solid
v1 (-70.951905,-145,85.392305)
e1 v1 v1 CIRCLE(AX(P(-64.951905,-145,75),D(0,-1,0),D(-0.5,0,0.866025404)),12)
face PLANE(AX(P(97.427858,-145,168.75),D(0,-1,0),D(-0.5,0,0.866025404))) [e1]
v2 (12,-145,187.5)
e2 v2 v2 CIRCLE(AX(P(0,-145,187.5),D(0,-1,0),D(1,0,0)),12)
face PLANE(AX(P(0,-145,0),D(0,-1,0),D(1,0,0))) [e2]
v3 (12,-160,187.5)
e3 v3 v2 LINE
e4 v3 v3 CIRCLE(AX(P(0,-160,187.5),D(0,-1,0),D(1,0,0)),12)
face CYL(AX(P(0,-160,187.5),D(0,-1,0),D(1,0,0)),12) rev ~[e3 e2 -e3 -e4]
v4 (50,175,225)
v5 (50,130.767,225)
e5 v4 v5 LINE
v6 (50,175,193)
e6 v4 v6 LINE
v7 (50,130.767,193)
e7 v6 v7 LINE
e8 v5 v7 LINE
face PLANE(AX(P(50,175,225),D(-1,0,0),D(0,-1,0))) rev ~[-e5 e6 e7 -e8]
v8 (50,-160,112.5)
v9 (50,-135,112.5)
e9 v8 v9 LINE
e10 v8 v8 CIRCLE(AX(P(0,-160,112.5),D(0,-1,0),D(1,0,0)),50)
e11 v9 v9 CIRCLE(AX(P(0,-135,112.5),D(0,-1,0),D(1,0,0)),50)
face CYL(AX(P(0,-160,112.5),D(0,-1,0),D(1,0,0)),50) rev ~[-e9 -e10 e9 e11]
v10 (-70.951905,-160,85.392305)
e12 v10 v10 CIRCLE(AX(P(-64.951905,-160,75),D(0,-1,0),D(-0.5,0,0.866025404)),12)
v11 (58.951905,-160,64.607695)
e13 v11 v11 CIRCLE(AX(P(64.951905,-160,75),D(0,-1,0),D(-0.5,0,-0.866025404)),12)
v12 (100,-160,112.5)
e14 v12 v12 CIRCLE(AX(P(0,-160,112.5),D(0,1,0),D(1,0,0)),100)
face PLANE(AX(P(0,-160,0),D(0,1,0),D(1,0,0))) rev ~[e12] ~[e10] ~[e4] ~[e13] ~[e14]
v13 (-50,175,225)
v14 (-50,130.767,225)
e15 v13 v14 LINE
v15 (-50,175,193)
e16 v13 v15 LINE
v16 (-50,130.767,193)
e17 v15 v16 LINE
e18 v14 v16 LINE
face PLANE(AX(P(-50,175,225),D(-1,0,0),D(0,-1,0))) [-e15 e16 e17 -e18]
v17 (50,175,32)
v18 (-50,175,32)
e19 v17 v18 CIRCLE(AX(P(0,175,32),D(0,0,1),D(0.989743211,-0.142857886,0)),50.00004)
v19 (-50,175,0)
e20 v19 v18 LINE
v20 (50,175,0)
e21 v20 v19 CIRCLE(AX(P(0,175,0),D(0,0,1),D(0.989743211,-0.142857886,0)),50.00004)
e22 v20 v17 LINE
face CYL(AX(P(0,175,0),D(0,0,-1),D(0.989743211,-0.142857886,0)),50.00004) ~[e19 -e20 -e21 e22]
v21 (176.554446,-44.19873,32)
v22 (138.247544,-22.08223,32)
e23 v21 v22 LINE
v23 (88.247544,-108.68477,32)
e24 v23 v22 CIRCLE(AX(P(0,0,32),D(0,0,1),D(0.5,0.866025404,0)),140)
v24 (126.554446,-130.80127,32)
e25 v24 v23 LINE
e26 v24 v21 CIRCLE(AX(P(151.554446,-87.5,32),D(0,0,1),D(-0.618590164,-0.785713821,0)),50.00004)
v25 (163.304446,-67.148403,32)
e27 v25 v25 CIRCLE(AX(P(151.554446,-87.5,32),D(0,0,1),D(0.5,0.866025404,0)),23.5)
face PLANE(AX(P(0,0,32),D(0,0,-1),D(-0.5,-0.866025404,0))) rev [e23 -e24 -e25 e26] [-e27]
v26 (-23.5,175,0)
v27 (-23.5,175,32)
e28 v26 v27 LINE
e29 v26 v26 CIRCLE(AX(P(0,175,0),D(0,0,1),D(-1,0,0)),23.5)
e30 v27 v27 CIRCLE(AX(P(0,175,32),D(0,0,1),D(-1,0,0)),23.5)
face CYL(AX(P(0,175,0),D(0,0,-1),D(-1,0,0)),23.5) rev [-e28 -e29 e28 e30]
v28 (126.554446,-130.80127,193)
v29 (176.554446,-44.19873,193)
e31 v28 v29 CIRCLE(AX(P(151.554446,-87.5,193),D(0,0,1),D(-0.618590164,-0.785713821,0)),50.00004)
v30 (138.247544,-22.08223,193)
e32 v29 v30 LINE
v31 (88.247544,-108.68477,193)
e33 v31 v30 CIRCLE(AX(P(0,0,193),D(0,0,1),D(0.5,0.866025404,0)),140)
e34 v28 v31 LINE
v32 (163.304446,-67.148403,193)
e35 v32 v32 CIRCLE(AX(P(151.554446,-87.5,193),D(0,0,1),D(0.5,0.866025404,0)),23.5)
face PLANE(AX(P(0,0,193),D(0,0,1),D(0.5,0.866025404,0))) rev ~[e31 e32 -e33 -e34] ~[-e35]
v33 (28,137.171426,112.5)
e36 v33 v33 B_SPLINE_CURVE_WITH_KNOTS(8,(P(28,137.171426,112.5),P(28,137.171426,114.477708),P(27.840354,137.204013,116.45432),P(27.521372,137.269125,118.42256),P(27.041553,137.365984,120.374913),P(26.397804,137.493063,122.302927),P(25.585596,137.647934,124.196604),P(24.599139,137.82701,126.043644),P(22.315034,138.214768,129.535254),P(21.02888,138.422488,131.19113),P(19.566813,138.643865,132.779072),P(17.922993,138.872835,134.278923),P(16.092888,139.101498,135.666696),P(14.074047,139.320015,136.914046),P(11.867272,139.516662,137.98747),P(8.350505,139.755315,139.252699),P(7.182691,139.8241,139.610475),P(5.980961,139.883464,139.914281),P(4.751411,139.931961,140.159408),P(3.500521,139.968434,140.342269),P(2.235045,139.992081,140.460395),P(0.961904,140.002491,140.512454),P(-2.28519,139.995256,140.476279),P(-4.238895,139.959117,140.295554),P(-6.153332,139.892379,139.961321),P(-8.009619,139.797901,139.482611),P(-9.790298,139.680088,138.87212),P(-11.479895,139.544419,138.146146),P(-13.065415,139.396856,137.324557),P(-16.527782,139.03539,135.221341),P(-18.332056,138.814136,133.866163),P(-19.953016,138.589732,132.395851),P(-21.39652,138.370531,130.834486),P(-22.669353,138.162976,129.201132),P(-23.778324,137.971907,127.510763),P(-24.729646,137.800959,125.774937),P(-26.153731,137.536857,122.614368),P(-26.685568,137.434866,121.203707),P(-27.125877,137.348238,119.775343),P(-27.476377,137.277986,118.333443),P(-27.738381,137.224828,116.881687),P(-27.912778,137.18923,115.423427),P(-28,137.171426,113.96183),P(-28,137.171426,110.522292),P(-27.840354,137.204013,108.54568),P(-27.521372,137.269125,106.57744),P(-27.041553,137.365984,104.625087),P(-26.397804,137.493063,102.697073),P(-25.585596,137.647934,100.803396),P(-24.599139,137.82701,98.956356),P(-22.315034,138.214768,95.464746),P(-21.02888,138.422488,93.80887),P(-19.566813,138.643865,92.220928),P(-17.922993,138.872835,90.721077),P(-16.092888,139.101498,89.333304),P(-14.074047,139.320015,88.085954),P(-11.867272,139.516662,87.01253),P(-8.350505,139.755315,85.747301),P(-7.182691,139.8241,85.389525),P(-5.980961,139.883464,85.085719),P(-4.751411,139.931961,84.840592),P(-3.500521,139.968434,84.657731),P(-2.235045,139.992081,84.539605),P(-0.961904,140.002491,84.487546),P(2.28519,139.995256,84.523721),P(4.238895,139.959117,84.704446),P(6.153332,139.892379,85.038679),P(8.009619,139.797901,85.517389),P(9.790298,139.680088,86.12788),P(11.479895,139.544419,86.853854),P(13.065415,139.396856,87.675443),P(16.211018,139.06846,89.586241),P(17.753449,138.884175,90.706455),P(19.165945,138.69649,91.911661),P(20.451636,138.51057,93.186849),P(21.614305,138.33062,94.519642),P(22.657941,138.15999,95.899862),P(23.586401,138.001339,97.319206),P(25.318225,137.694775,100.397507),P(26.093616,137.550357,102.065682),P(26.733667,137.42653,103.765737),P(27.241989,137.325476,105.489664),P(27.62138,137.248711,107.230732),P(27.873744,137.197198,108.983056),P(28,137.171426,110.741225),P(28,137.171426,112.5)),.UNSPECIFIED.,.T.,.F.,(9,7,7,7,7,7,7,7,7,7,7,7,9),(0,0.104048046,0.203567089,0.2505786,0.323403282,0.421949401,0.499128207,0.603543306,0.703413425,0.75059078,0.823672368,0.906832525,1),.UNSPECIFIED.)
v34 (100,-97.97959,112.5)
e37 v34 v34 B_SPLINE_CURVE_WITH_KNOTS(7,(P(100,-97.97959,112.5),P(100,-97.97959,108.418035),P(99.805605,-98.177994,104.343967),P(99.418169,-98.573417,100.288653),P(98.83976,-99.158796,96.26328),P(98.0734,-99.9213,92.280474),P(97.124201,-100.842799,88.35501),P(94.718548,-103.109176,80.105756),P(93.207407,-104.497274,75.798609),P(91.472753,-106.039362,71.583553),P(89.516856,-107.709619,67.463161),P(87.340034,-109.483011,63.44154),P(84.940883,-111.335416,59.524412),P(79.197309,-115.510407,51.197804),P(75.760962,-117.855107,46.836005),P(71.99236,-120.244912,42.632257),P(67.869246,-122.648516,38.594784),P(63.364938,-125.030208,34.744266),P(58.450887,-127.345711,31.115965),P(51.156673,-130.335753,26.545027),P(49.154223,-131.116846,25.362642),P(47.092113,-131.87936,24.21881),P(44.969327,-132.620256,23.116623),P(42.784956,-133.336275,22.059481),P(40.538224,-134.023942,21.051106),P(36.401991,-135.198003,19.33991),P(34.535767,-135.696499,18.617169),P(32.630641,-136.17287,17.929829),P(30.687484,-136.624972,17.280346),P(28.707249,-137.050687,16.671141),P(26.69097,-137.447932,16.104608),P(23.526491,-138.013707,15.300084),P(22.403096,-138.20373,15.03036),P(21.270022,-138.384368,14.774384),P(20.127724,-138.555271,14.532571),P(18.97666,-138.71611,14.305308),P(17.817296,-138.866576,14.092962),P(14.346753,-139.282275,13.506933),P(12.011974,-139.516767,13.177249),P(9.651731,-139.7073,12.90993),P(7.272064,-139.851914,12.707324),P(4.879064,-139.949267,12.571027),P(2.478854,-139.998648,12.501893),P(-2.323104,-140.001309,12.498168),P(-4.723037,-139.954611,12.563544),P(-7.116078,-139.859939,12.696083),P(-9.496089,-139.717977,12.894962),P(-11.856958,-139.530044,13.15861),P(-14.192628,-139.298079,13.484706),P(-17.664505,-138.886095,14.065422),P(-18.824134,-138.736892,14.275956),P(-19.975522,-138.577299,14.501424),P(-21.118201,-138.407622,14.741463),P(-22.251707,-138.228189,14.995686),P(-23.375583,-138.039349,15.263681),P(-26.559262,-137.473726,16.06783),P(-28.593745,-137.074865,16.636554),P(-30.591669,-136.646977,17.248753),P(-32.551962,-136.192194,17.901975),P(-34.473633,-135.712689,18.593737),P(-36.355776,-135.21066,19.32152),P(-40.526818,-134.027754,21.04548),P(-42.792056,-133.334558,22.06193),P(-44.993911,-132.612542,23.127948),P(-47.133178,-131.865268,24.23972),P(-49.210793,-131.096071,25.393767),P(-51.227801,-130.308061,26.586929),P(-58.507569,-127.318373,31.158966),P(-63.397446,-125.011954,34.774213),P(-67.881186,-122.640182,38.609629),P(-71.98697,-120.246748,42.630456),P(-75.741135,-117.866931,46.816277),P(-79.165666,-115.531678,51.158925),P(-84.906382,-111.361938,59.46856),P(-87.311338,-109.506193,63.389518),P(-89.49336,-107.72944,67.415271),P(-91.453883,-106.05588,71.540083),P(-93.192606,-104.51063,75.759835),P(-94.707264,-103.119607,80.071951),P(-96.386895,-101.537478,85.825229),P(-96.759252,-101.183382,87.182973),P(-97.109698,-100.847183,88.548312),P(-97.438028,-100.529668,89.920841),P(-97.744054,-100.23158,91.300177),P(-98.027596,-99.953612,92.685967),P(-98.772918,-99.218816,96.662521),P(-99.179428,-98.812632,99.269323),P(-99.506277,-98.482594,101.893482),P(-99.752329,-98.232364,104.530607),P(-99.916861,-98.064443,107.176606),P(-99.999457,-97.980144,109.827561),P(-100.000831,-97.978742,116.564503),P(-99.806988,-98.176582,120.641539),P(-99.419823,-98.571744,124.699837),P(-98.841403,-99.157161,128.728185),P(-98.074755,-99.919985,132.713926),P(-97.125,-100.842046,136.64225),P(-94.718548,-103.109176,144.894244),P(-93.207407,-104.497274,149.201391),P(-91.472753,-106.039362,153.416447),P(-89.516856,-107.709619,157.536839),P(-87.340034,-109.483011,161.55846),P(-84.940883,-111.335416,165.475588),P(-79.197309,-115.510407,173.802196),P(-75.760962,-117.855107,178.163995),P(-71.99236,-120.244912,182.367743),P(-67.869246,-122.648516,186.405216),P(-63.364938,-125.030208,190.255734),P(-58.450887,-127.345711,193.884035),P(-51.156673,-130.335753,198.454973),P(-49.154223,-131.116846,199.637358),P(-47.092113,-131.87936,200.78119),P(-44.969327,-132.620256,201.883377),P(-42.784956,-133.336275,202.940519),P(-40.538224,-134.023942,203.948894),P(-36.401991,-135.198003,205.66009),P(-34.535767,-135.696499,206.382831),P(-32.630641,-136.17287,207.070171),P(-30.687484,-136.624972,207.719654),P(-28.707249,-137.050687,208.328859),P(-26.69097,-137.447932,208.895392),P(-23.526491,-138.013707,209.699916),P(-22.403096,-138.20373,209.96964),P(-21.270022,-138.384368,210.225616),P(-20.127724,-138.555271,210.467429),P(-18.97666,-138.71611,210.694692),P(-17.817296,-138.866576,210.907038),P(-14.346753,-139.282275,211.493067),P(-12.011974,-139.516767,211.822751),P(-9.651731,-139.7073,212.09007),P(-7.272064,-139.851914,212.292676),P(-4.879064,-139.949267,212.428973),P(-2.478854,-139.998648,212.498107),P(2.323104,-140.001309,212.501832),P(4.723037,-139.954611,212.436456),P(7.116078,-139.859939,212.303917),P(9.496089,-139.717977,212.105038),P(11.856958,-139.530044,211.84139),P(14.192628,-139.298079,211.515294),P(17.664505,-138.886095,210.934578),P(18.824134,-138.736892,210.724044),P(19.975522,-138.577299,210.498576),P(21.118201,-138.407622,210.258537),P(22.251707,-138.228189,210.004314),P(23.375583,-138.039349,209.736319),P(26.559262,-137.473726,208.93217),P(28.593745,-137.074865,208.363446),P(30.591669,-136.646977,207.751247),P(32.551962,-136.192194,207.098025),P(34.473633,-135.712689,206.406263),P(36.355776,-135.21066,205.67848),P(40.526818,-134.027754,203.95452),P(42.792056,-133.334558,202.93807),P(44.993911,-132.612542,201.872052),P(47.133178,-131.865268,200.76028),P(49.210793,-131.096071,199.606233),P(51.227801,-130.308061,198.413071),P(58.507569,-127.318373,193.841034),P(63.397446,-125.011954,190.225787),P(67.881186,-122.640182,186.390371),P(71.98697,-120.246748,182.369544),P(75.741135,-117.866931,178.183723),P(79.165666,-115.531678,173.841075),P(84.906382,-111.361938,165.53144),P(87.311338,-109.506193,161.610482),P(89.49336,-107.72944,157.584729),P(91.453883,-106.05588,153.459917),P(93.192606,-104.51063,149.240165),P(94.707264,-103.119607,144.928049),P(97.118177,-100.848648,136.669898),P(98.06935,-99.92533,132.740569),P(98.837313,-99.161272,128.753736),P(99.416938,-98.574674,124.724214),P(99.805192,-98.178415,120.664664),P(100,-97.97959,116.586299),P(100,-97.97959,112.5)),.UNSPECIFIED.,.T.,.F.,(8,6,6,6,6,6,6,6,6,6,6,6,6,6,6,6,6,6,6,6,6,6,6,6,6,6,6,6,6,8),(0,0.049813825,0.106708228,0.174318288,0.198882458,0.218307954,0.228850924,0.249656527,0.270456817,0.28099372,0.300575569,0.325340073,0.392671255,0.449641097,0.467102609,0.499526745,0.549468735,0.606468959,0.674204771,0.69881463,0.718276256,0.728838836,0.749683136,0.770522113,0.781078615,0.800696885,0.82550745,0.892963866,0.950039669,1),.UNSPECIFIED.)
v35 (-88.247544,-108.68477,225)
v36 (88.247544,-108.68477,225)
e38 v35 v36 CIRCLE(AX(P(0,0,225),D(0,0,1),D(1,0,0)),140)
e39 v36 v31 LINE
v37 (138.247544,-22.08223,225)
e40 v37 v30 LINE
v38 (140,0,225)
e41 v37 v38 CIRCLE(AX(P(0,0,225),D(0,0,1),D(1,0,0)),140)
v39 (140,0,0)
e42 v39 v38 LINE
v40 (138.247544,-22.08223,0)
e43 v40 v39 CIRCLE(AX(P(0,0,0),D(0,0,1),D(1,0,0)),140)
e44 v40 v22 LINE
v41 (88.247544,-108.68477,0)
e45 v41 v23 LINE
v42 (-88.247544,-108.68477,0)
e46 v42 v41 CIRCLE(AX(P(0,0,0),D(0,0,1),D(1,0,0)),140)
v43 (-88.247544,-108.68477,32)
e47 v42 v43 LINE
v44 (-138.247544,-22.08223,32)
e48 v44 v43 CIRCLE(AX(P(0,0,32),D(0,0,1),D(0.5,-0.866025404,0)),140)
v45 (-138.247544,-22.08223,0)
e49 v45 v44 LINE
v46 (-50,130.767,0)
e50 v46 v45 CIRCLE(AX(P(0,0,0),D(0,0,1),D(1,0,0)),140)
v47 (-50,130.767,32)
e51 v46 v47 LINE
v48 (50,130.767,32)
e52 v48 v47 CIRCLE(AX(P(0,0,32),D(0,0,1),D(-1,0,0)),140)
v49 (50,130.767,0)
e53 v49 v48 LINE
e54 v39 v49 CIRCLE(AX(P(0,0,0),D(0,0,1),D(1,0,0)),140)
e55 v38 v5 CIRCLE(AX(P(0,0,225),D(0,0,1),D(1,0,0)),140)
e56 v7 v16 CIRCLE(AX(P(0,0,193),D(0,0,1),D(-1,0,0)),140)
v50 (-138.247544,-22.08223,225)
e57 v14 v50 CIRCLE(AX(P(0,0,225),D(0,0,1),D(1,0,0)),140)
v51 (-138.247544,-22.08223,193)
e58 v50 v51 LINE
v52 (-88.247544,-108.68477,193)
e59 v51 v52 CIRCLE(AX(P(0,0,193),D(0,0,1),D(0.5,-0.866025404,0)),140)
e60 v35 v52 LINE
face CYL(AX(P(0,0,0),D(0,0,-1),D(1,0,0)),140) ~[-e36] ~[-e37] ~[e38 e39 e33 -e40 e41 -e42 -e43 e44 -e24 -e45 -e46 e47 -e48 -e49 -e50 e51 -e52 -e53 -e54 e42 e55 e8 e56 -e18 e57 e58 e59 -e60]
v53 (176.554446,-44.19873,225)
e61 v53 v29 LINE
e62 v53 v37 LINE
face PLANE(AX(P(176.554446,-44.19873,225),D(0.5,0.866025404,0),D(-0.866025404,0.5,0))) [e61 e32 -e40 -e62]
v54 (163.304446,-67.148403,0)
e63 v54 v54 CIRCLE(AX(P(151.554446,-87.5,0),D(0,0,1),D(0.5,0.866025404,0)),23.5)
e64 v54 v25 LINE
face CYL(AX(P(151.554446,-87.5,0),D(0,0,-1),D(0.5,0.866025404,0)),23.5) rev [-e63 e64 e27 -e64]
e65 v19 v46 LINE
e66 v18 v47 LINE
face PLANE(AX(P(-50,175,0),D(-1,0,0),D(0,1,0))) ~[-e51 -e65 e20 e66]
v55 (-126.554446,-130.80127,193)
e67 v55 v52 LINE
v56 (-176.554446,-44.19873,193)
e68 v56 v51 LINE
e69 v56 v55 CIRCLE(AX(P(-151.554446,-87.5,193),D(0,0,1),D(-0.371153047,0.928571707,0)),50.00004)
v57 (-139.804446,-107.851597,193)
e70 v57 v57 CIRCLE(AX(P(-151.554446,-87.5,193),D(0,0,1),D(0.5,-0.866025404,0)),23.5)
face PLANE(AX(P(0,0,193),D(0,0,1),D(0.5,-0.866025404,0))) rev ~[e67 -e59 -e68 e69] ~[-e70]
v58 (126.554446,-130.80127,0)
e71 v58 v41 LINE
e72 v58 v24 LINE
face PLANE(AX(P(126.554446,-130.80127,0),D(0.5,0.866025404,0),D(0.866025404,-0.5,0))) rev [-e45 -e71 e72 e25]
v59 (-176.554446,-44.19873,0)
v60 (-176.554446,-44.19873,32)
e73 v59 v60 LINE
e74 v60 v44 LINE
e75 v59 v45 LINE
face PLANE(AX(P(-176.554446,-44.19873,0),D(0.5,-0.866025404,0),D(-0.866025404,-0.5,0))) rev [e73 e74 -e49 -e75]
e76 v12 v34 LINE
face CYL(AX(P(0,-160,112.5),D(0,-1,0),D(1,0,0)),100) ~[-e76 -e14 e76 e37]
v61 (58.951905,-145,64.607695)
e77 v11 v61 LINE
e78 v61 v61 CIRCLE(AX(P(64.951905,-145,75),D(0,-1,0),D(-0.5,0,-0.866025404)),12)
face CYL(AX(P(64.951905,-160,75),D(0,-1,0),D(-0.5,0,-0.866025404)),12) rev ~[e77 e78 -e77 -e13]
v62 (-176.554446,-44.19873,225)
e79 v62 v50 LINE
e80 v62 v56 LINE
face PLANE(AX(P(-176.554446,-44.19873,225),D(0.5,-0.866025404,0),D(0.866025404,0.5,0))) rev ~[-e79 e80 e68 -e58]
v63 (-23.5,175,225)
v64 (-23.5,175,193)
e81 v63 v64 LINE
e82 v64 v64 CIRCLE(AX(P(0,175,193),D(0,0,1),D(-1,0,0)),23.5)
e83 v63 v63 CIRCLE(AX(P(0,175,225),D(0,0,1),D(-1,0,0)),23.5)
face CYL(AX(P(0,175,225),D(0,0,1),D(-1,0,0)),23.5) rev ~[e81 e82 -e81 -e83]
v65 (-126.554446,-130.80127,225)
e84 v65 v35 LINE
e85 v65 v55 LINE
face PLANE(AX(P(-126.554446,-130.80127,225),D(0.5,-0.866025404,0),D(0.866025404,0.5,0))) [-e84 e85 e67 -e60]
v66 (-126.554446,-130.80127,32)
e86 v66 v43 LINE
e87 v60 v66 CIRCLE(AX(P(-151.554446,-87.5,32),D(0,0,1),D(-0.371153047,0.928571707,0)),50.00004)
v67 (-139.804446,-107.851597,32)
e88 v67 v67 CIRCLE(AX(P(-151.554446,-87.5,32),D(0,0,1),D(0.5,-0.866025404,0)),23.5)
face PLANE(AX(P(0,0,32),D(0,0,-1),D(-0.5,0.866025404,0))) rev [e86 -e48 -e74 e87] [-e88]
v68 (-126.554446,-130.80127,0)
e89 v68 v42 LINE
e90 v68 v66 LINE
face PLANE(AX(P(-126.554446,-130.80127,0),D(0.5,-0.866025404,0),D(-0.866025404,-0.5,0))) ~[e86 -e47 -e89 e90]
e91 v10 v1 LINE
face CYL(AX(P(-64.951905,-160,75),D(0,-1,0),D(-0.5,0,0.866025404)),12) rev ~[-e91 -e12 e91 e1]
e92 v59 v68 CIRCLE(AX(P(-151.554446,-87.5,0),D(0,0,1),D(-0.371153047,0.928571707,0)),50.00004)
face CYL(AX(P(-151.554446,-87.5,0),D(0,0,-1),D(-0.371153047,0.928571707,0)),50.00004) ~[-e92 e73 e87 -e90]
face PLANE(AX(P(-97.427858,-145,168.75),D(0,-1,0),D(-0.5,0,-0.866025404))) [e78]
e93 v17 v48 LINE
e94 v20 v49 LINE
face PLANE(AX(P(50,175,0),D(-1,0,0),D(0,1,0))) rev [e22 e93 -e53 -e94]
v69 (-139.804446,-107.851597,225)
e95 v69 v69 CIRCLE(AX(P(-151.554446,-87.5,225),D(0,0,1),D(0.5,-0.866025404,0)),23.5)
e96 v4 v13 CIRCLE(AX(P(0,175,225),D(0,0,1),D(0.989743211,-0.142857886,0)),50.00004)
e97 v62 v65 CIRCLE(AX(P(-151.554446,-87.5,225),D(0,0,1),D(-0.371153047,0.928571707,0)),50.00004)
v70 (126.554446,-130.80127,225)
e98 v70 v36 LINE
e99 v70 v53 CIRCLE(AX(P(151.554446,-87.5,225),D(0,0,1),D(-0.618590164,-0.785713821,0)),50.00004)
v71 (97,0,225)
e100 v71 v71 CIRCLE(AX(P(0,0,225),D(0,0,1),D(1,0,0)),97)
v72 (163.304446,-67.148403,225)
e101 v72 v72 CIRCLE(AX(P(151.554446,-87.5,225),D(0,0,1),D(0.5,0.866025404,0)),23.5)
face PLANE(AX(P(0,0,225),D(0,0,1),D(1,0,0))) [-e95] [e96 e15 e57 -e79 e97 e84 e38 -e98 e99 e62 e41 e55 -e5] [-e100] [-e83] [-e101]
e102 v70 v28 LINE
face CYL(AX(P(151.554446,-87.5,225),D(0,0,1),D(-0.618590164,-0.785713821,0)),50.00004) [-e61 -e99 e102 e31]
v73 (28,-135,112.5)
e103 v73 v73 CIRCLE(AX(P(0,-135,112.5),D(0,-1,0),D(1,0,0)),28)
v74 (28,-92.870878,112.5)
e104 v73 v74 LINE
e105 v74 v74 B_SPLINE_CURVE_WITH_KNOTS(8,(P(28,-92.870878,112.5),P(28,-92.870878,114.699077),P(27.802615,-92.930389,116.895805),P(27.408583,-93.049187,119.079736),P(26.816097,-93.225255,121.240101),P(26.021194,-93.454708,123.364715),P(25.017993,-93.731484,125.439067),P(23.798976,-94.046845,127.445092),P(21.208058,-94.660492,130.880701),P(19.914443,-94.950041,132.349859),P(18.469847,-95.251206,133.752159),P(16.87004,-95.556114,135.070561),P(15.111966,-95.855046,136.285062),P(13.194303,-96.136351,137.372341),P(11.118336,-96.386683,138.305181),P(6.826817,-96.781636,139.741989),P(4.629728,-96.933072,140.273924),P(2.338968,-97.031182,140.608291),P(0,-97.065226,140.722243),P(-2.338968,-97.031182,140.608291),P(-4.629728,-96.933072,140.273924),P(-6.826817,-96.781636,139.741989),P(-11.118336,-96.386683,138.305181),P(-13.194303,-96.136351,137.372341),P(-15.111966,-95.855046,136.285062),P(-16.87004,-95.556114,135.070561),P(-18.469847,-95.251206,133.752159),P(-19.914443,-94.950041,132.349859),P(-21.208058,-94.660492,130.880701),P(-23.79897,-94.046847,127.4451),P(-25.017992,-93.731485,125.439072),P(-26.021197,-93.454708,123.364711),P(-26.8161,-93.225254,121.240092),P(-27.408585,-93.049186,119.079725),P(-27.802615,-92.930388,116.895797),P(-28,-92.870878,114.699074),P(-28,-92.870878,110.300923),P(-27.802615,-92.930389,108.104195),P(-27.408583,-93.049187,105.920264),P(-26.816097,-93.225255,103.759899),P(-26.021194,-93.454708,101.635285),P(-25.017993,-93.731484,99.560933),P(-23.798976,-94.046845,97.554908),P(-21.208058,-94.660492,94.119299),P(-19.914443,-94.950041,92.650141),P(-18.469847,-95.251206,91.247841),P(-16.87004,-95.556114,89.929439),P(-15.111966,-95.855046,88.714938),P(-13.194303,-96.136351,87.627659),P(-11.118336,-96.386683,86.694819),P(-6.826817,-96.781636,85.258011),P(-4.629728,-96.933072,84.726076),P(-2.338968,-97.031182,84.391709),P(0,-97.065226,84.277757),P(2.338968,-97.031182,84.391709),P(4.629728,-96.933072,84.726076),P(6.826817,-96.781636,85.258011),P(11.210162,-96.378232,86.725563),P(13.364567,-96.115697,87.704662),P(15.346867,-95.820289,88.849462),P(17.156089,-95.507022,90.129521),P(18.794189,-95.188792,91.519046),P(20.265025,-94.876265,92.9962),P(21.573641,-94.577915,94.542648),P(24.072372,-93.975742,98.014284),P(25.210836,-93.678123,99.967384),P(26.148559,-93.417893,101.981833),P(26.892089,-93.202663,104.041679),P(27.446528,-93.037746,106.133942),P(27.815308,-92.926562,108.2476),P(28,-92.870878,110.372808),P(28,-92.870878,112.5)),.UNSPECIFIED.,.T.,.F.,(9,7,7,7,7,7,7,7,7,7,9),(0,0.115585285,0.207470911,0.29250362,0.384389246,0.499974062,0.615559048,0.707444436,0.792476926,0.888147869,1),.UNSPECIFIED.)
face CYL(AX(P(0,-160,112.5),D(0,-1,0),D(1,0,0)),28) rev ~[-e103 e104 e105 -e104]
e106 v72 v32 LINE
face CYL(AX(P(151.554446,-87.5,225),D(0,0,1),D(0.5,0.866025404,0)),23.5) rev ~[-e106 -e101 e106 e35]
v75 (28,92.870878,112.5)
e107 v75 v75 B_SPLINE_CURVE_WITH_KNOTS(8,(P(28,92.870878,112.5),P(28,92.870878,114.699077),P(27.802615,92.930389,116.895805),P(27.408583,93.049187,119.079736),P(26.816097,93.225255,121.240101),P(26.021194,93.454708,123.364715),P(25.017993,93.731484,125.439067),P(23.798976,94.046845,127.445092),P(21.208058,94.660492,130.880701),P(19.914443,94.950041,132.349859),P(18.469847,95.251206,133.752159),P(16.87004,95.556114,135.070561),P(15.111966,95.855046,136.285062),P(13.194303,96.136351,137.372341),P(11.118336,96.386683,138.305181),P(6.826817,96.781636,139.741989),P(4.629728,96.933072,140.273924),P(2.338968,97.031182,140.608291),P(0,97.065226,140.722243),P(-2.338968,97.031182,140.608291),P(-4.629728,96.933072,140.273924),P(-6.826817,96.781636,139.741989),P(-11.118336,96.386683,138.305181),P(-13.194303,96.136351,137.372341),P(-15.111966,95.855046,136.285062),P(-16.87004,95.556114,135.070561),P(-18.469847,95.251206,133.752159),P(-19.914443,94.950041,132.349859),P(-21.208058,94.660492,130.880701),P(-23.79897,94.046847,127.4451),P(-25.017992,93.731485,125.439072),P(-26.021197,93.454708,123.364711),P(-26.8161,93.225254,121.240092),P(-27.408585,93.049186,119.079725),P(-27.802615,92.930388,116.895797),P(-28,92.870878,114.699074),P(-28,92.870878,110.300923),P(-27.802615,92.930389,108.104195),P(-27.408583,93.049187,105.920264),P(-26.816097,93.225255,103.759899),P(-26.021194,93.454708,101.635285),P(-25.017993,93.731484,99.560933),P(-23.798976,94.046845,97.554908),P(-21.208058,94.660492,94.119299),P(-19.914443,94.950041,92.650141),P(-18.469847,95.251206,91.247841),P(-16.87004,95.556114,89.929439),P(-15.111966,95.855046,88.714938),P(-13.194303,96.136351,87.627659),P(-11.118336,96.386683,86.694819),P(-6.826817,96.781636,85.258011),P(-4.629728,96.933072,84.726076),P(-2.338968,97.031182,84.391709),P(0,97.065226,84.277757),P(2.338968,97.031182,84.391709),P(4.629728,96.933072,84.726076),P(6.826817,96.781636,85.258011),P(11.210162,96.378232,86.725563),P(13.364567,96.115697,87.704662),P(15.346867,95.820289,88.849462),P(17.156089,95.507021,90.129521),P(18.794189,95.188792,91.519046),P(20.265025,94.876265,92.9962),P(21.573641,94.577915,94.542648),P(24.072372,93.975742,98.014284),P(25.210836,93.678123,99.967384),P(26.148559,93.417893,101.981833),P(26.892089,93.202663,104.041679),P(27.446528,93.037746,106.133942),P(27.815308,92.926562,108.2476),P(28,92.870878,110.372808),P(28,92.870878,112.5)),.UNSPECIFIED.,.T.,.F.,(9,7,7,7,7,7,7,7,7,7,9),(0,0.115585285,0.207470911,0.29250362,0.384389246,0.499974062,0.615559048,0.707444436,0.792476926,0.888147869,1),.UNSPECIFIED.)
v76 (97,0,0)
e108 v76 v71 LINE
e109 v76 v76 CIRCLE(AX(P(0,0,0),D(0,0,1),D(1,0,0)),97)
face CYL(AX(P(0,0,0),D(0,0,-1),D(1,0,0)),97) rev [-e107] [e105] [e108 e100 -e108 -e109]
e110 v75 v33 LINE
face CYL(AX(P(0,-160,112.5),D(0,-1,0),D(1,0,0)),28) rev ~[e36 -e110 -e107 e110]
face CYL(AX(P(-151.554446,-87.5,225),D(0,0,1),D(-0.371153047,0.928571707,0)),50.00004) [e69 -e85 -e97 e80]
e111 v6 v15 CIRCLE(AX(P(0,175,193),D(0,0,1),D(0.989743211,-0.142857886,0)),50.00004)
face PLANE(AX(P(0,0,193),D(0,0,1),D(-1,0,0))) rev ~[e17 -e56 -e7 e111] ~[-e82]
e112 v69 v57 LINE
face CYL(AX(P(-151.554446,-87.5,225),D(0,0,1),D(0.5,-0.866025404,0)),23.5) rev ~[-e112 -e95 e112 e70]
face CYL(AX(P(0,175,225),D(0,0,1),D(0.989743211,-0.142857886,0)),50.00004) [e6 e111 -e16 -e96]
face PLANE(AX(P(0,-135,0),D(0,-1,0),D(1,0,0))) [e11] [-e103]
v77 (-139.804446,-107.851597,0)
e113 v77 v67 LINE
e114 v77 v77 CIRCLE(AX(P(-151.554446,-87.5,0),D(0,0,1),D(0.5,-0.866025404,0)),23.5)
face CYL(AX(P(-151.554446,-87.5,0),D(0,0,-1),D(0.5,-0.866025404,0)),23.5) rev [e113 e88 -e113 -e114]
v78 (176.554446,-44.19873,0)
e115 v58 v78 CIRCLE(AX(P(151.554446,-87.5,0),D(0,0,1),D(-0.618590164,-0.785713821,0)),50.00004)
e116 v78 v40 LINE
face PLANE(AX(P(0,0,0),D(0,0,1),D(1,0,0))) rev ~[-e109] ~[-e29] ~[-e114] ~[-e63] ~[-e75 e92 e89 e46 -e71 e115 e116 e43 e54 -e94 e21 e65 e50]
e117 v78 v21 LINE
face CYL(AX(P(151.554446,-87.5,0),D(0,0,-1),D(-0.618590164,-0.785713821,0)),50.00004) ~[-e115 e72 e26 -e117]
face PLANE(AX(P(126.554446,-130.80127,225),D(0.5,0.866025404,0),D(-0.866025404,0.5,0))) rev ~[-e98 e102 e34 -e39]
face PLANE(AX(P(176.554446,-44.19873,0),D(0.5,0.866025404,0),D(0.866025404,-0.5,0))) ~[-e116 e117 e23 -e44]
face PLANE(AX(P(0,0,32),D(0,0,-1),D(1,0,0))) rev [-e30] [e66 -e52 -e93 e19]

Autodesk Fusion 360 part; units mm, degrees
sketch "Sketch1" plane through (0, 0, 0) normal (0, 0, 1) x (1, 0, 0)
  circle A0 centre (0, 0) radius 97
  circle A1 centre (0, 0) radius 140
  dimension "d1" = 194
  dimension "d2" = 280
extrude "Extrude1" add sketch "Sketch1" along normal blind 225
sketch "Sketch2" plane through (0, 0, 225) normal (0, 0, 1) x (-1, 0, 0)
  circle A0 centre (0, 0) radius 97
  circle A1 centre (0, 0) radius 140
  circle A2 centre (0, 0) radius 175 construction
  line L0 (0, 0) -> (0, -231.0128) construction
  circle A3 centre (0, -175) radius 23.5
  line L1 (50, -175) -> (50, -130.767)
  line L2 (-50, -175) -> (-50, -130.767)
  arc A4 (-49.4872, -167.8571) -> (49.4872, -167.8571) centre (0, -175) ccw
  dimension "d5" = 350
  dimension "d6" = 47
  dimension "d7" = 100
extrude "Extrude2" add sketch "Sketch2" against normal blind 32 contours A1 L1 L2 A4
pattern_circular "C-Pattern1" count 3 over 360 about axis through (0, 0, 1.75) along (0, 0, 1) of "Extrude2"
ref_plane "WorkPlane1" through (0, 22.331, 112.5) normal (0, 0, 1) x (1, 0, 0)
mirror "Mirror1" about plane through (0, 22.331, 112.5) normal (0, 0, 1) of "C-Pattern1", "Extrude2"
ref_plane "WorkPlane5" through (0, -160, 0) normal (0, 1, 0) x (0, 0, 1)
sketch "Sketch6" plane through (0, -160, 0) normal (0, 1, 0) x (1, 0, 0)
  circle A0 centre (0, -112.5) radius 100
  line L0 (-88.2475, 0) -> (88.2475, 0)
  dimension "d19" = 200
  dimension "d20" = 112.5
extrude "Extrude3" add sketch "Sketch6" along normal up to surface end surface at (-37.048, 135.0091, 139.3333)
sketch "Sketch7" plane through (0, -160, 0) normal (0, -1, 0) x (1, 0, 0)
  circle A0 centre (0, 112.5) radius 100
  circle A1 centre (0, 112.5) radius 50
  circle A2 centre (0, 112.5) radius 28
  dimension "d23" = 100
  dimension "d24" = 56
extrude "Extrude4" cut sketch "Sketch7" against normal blind 25 contours A1
extrude "Extrude5" cut 1 faces at (5.8192, -160, 119.7971) along direction (0, 1, 0) through all
sketch "Sketch8" plane through (0, -160, 0) normal (0, -1, 0) x (1, 0, 0)
  circle A0 centre (0, 112.5) radius 100
  circle A1 centre (0, 112.5) radius 50
  circle A2 centre (0, 112.5) radius 75 construction
  circle A3 centre (0, 187.5) radius 12
  dimension "d28" = 150
  dimension "d29" = 24
extrude "Extrude6" cut sketch "Sketch8" against normal blind 15 contours A3
pattern_circular "C-Pattern2" count 3 over 360 about axis through (0, -160, 112.5) along (0, 1, 0) of "Extrude6"
equation "d20 = ( 225 / 2 ) * 1 mm"
